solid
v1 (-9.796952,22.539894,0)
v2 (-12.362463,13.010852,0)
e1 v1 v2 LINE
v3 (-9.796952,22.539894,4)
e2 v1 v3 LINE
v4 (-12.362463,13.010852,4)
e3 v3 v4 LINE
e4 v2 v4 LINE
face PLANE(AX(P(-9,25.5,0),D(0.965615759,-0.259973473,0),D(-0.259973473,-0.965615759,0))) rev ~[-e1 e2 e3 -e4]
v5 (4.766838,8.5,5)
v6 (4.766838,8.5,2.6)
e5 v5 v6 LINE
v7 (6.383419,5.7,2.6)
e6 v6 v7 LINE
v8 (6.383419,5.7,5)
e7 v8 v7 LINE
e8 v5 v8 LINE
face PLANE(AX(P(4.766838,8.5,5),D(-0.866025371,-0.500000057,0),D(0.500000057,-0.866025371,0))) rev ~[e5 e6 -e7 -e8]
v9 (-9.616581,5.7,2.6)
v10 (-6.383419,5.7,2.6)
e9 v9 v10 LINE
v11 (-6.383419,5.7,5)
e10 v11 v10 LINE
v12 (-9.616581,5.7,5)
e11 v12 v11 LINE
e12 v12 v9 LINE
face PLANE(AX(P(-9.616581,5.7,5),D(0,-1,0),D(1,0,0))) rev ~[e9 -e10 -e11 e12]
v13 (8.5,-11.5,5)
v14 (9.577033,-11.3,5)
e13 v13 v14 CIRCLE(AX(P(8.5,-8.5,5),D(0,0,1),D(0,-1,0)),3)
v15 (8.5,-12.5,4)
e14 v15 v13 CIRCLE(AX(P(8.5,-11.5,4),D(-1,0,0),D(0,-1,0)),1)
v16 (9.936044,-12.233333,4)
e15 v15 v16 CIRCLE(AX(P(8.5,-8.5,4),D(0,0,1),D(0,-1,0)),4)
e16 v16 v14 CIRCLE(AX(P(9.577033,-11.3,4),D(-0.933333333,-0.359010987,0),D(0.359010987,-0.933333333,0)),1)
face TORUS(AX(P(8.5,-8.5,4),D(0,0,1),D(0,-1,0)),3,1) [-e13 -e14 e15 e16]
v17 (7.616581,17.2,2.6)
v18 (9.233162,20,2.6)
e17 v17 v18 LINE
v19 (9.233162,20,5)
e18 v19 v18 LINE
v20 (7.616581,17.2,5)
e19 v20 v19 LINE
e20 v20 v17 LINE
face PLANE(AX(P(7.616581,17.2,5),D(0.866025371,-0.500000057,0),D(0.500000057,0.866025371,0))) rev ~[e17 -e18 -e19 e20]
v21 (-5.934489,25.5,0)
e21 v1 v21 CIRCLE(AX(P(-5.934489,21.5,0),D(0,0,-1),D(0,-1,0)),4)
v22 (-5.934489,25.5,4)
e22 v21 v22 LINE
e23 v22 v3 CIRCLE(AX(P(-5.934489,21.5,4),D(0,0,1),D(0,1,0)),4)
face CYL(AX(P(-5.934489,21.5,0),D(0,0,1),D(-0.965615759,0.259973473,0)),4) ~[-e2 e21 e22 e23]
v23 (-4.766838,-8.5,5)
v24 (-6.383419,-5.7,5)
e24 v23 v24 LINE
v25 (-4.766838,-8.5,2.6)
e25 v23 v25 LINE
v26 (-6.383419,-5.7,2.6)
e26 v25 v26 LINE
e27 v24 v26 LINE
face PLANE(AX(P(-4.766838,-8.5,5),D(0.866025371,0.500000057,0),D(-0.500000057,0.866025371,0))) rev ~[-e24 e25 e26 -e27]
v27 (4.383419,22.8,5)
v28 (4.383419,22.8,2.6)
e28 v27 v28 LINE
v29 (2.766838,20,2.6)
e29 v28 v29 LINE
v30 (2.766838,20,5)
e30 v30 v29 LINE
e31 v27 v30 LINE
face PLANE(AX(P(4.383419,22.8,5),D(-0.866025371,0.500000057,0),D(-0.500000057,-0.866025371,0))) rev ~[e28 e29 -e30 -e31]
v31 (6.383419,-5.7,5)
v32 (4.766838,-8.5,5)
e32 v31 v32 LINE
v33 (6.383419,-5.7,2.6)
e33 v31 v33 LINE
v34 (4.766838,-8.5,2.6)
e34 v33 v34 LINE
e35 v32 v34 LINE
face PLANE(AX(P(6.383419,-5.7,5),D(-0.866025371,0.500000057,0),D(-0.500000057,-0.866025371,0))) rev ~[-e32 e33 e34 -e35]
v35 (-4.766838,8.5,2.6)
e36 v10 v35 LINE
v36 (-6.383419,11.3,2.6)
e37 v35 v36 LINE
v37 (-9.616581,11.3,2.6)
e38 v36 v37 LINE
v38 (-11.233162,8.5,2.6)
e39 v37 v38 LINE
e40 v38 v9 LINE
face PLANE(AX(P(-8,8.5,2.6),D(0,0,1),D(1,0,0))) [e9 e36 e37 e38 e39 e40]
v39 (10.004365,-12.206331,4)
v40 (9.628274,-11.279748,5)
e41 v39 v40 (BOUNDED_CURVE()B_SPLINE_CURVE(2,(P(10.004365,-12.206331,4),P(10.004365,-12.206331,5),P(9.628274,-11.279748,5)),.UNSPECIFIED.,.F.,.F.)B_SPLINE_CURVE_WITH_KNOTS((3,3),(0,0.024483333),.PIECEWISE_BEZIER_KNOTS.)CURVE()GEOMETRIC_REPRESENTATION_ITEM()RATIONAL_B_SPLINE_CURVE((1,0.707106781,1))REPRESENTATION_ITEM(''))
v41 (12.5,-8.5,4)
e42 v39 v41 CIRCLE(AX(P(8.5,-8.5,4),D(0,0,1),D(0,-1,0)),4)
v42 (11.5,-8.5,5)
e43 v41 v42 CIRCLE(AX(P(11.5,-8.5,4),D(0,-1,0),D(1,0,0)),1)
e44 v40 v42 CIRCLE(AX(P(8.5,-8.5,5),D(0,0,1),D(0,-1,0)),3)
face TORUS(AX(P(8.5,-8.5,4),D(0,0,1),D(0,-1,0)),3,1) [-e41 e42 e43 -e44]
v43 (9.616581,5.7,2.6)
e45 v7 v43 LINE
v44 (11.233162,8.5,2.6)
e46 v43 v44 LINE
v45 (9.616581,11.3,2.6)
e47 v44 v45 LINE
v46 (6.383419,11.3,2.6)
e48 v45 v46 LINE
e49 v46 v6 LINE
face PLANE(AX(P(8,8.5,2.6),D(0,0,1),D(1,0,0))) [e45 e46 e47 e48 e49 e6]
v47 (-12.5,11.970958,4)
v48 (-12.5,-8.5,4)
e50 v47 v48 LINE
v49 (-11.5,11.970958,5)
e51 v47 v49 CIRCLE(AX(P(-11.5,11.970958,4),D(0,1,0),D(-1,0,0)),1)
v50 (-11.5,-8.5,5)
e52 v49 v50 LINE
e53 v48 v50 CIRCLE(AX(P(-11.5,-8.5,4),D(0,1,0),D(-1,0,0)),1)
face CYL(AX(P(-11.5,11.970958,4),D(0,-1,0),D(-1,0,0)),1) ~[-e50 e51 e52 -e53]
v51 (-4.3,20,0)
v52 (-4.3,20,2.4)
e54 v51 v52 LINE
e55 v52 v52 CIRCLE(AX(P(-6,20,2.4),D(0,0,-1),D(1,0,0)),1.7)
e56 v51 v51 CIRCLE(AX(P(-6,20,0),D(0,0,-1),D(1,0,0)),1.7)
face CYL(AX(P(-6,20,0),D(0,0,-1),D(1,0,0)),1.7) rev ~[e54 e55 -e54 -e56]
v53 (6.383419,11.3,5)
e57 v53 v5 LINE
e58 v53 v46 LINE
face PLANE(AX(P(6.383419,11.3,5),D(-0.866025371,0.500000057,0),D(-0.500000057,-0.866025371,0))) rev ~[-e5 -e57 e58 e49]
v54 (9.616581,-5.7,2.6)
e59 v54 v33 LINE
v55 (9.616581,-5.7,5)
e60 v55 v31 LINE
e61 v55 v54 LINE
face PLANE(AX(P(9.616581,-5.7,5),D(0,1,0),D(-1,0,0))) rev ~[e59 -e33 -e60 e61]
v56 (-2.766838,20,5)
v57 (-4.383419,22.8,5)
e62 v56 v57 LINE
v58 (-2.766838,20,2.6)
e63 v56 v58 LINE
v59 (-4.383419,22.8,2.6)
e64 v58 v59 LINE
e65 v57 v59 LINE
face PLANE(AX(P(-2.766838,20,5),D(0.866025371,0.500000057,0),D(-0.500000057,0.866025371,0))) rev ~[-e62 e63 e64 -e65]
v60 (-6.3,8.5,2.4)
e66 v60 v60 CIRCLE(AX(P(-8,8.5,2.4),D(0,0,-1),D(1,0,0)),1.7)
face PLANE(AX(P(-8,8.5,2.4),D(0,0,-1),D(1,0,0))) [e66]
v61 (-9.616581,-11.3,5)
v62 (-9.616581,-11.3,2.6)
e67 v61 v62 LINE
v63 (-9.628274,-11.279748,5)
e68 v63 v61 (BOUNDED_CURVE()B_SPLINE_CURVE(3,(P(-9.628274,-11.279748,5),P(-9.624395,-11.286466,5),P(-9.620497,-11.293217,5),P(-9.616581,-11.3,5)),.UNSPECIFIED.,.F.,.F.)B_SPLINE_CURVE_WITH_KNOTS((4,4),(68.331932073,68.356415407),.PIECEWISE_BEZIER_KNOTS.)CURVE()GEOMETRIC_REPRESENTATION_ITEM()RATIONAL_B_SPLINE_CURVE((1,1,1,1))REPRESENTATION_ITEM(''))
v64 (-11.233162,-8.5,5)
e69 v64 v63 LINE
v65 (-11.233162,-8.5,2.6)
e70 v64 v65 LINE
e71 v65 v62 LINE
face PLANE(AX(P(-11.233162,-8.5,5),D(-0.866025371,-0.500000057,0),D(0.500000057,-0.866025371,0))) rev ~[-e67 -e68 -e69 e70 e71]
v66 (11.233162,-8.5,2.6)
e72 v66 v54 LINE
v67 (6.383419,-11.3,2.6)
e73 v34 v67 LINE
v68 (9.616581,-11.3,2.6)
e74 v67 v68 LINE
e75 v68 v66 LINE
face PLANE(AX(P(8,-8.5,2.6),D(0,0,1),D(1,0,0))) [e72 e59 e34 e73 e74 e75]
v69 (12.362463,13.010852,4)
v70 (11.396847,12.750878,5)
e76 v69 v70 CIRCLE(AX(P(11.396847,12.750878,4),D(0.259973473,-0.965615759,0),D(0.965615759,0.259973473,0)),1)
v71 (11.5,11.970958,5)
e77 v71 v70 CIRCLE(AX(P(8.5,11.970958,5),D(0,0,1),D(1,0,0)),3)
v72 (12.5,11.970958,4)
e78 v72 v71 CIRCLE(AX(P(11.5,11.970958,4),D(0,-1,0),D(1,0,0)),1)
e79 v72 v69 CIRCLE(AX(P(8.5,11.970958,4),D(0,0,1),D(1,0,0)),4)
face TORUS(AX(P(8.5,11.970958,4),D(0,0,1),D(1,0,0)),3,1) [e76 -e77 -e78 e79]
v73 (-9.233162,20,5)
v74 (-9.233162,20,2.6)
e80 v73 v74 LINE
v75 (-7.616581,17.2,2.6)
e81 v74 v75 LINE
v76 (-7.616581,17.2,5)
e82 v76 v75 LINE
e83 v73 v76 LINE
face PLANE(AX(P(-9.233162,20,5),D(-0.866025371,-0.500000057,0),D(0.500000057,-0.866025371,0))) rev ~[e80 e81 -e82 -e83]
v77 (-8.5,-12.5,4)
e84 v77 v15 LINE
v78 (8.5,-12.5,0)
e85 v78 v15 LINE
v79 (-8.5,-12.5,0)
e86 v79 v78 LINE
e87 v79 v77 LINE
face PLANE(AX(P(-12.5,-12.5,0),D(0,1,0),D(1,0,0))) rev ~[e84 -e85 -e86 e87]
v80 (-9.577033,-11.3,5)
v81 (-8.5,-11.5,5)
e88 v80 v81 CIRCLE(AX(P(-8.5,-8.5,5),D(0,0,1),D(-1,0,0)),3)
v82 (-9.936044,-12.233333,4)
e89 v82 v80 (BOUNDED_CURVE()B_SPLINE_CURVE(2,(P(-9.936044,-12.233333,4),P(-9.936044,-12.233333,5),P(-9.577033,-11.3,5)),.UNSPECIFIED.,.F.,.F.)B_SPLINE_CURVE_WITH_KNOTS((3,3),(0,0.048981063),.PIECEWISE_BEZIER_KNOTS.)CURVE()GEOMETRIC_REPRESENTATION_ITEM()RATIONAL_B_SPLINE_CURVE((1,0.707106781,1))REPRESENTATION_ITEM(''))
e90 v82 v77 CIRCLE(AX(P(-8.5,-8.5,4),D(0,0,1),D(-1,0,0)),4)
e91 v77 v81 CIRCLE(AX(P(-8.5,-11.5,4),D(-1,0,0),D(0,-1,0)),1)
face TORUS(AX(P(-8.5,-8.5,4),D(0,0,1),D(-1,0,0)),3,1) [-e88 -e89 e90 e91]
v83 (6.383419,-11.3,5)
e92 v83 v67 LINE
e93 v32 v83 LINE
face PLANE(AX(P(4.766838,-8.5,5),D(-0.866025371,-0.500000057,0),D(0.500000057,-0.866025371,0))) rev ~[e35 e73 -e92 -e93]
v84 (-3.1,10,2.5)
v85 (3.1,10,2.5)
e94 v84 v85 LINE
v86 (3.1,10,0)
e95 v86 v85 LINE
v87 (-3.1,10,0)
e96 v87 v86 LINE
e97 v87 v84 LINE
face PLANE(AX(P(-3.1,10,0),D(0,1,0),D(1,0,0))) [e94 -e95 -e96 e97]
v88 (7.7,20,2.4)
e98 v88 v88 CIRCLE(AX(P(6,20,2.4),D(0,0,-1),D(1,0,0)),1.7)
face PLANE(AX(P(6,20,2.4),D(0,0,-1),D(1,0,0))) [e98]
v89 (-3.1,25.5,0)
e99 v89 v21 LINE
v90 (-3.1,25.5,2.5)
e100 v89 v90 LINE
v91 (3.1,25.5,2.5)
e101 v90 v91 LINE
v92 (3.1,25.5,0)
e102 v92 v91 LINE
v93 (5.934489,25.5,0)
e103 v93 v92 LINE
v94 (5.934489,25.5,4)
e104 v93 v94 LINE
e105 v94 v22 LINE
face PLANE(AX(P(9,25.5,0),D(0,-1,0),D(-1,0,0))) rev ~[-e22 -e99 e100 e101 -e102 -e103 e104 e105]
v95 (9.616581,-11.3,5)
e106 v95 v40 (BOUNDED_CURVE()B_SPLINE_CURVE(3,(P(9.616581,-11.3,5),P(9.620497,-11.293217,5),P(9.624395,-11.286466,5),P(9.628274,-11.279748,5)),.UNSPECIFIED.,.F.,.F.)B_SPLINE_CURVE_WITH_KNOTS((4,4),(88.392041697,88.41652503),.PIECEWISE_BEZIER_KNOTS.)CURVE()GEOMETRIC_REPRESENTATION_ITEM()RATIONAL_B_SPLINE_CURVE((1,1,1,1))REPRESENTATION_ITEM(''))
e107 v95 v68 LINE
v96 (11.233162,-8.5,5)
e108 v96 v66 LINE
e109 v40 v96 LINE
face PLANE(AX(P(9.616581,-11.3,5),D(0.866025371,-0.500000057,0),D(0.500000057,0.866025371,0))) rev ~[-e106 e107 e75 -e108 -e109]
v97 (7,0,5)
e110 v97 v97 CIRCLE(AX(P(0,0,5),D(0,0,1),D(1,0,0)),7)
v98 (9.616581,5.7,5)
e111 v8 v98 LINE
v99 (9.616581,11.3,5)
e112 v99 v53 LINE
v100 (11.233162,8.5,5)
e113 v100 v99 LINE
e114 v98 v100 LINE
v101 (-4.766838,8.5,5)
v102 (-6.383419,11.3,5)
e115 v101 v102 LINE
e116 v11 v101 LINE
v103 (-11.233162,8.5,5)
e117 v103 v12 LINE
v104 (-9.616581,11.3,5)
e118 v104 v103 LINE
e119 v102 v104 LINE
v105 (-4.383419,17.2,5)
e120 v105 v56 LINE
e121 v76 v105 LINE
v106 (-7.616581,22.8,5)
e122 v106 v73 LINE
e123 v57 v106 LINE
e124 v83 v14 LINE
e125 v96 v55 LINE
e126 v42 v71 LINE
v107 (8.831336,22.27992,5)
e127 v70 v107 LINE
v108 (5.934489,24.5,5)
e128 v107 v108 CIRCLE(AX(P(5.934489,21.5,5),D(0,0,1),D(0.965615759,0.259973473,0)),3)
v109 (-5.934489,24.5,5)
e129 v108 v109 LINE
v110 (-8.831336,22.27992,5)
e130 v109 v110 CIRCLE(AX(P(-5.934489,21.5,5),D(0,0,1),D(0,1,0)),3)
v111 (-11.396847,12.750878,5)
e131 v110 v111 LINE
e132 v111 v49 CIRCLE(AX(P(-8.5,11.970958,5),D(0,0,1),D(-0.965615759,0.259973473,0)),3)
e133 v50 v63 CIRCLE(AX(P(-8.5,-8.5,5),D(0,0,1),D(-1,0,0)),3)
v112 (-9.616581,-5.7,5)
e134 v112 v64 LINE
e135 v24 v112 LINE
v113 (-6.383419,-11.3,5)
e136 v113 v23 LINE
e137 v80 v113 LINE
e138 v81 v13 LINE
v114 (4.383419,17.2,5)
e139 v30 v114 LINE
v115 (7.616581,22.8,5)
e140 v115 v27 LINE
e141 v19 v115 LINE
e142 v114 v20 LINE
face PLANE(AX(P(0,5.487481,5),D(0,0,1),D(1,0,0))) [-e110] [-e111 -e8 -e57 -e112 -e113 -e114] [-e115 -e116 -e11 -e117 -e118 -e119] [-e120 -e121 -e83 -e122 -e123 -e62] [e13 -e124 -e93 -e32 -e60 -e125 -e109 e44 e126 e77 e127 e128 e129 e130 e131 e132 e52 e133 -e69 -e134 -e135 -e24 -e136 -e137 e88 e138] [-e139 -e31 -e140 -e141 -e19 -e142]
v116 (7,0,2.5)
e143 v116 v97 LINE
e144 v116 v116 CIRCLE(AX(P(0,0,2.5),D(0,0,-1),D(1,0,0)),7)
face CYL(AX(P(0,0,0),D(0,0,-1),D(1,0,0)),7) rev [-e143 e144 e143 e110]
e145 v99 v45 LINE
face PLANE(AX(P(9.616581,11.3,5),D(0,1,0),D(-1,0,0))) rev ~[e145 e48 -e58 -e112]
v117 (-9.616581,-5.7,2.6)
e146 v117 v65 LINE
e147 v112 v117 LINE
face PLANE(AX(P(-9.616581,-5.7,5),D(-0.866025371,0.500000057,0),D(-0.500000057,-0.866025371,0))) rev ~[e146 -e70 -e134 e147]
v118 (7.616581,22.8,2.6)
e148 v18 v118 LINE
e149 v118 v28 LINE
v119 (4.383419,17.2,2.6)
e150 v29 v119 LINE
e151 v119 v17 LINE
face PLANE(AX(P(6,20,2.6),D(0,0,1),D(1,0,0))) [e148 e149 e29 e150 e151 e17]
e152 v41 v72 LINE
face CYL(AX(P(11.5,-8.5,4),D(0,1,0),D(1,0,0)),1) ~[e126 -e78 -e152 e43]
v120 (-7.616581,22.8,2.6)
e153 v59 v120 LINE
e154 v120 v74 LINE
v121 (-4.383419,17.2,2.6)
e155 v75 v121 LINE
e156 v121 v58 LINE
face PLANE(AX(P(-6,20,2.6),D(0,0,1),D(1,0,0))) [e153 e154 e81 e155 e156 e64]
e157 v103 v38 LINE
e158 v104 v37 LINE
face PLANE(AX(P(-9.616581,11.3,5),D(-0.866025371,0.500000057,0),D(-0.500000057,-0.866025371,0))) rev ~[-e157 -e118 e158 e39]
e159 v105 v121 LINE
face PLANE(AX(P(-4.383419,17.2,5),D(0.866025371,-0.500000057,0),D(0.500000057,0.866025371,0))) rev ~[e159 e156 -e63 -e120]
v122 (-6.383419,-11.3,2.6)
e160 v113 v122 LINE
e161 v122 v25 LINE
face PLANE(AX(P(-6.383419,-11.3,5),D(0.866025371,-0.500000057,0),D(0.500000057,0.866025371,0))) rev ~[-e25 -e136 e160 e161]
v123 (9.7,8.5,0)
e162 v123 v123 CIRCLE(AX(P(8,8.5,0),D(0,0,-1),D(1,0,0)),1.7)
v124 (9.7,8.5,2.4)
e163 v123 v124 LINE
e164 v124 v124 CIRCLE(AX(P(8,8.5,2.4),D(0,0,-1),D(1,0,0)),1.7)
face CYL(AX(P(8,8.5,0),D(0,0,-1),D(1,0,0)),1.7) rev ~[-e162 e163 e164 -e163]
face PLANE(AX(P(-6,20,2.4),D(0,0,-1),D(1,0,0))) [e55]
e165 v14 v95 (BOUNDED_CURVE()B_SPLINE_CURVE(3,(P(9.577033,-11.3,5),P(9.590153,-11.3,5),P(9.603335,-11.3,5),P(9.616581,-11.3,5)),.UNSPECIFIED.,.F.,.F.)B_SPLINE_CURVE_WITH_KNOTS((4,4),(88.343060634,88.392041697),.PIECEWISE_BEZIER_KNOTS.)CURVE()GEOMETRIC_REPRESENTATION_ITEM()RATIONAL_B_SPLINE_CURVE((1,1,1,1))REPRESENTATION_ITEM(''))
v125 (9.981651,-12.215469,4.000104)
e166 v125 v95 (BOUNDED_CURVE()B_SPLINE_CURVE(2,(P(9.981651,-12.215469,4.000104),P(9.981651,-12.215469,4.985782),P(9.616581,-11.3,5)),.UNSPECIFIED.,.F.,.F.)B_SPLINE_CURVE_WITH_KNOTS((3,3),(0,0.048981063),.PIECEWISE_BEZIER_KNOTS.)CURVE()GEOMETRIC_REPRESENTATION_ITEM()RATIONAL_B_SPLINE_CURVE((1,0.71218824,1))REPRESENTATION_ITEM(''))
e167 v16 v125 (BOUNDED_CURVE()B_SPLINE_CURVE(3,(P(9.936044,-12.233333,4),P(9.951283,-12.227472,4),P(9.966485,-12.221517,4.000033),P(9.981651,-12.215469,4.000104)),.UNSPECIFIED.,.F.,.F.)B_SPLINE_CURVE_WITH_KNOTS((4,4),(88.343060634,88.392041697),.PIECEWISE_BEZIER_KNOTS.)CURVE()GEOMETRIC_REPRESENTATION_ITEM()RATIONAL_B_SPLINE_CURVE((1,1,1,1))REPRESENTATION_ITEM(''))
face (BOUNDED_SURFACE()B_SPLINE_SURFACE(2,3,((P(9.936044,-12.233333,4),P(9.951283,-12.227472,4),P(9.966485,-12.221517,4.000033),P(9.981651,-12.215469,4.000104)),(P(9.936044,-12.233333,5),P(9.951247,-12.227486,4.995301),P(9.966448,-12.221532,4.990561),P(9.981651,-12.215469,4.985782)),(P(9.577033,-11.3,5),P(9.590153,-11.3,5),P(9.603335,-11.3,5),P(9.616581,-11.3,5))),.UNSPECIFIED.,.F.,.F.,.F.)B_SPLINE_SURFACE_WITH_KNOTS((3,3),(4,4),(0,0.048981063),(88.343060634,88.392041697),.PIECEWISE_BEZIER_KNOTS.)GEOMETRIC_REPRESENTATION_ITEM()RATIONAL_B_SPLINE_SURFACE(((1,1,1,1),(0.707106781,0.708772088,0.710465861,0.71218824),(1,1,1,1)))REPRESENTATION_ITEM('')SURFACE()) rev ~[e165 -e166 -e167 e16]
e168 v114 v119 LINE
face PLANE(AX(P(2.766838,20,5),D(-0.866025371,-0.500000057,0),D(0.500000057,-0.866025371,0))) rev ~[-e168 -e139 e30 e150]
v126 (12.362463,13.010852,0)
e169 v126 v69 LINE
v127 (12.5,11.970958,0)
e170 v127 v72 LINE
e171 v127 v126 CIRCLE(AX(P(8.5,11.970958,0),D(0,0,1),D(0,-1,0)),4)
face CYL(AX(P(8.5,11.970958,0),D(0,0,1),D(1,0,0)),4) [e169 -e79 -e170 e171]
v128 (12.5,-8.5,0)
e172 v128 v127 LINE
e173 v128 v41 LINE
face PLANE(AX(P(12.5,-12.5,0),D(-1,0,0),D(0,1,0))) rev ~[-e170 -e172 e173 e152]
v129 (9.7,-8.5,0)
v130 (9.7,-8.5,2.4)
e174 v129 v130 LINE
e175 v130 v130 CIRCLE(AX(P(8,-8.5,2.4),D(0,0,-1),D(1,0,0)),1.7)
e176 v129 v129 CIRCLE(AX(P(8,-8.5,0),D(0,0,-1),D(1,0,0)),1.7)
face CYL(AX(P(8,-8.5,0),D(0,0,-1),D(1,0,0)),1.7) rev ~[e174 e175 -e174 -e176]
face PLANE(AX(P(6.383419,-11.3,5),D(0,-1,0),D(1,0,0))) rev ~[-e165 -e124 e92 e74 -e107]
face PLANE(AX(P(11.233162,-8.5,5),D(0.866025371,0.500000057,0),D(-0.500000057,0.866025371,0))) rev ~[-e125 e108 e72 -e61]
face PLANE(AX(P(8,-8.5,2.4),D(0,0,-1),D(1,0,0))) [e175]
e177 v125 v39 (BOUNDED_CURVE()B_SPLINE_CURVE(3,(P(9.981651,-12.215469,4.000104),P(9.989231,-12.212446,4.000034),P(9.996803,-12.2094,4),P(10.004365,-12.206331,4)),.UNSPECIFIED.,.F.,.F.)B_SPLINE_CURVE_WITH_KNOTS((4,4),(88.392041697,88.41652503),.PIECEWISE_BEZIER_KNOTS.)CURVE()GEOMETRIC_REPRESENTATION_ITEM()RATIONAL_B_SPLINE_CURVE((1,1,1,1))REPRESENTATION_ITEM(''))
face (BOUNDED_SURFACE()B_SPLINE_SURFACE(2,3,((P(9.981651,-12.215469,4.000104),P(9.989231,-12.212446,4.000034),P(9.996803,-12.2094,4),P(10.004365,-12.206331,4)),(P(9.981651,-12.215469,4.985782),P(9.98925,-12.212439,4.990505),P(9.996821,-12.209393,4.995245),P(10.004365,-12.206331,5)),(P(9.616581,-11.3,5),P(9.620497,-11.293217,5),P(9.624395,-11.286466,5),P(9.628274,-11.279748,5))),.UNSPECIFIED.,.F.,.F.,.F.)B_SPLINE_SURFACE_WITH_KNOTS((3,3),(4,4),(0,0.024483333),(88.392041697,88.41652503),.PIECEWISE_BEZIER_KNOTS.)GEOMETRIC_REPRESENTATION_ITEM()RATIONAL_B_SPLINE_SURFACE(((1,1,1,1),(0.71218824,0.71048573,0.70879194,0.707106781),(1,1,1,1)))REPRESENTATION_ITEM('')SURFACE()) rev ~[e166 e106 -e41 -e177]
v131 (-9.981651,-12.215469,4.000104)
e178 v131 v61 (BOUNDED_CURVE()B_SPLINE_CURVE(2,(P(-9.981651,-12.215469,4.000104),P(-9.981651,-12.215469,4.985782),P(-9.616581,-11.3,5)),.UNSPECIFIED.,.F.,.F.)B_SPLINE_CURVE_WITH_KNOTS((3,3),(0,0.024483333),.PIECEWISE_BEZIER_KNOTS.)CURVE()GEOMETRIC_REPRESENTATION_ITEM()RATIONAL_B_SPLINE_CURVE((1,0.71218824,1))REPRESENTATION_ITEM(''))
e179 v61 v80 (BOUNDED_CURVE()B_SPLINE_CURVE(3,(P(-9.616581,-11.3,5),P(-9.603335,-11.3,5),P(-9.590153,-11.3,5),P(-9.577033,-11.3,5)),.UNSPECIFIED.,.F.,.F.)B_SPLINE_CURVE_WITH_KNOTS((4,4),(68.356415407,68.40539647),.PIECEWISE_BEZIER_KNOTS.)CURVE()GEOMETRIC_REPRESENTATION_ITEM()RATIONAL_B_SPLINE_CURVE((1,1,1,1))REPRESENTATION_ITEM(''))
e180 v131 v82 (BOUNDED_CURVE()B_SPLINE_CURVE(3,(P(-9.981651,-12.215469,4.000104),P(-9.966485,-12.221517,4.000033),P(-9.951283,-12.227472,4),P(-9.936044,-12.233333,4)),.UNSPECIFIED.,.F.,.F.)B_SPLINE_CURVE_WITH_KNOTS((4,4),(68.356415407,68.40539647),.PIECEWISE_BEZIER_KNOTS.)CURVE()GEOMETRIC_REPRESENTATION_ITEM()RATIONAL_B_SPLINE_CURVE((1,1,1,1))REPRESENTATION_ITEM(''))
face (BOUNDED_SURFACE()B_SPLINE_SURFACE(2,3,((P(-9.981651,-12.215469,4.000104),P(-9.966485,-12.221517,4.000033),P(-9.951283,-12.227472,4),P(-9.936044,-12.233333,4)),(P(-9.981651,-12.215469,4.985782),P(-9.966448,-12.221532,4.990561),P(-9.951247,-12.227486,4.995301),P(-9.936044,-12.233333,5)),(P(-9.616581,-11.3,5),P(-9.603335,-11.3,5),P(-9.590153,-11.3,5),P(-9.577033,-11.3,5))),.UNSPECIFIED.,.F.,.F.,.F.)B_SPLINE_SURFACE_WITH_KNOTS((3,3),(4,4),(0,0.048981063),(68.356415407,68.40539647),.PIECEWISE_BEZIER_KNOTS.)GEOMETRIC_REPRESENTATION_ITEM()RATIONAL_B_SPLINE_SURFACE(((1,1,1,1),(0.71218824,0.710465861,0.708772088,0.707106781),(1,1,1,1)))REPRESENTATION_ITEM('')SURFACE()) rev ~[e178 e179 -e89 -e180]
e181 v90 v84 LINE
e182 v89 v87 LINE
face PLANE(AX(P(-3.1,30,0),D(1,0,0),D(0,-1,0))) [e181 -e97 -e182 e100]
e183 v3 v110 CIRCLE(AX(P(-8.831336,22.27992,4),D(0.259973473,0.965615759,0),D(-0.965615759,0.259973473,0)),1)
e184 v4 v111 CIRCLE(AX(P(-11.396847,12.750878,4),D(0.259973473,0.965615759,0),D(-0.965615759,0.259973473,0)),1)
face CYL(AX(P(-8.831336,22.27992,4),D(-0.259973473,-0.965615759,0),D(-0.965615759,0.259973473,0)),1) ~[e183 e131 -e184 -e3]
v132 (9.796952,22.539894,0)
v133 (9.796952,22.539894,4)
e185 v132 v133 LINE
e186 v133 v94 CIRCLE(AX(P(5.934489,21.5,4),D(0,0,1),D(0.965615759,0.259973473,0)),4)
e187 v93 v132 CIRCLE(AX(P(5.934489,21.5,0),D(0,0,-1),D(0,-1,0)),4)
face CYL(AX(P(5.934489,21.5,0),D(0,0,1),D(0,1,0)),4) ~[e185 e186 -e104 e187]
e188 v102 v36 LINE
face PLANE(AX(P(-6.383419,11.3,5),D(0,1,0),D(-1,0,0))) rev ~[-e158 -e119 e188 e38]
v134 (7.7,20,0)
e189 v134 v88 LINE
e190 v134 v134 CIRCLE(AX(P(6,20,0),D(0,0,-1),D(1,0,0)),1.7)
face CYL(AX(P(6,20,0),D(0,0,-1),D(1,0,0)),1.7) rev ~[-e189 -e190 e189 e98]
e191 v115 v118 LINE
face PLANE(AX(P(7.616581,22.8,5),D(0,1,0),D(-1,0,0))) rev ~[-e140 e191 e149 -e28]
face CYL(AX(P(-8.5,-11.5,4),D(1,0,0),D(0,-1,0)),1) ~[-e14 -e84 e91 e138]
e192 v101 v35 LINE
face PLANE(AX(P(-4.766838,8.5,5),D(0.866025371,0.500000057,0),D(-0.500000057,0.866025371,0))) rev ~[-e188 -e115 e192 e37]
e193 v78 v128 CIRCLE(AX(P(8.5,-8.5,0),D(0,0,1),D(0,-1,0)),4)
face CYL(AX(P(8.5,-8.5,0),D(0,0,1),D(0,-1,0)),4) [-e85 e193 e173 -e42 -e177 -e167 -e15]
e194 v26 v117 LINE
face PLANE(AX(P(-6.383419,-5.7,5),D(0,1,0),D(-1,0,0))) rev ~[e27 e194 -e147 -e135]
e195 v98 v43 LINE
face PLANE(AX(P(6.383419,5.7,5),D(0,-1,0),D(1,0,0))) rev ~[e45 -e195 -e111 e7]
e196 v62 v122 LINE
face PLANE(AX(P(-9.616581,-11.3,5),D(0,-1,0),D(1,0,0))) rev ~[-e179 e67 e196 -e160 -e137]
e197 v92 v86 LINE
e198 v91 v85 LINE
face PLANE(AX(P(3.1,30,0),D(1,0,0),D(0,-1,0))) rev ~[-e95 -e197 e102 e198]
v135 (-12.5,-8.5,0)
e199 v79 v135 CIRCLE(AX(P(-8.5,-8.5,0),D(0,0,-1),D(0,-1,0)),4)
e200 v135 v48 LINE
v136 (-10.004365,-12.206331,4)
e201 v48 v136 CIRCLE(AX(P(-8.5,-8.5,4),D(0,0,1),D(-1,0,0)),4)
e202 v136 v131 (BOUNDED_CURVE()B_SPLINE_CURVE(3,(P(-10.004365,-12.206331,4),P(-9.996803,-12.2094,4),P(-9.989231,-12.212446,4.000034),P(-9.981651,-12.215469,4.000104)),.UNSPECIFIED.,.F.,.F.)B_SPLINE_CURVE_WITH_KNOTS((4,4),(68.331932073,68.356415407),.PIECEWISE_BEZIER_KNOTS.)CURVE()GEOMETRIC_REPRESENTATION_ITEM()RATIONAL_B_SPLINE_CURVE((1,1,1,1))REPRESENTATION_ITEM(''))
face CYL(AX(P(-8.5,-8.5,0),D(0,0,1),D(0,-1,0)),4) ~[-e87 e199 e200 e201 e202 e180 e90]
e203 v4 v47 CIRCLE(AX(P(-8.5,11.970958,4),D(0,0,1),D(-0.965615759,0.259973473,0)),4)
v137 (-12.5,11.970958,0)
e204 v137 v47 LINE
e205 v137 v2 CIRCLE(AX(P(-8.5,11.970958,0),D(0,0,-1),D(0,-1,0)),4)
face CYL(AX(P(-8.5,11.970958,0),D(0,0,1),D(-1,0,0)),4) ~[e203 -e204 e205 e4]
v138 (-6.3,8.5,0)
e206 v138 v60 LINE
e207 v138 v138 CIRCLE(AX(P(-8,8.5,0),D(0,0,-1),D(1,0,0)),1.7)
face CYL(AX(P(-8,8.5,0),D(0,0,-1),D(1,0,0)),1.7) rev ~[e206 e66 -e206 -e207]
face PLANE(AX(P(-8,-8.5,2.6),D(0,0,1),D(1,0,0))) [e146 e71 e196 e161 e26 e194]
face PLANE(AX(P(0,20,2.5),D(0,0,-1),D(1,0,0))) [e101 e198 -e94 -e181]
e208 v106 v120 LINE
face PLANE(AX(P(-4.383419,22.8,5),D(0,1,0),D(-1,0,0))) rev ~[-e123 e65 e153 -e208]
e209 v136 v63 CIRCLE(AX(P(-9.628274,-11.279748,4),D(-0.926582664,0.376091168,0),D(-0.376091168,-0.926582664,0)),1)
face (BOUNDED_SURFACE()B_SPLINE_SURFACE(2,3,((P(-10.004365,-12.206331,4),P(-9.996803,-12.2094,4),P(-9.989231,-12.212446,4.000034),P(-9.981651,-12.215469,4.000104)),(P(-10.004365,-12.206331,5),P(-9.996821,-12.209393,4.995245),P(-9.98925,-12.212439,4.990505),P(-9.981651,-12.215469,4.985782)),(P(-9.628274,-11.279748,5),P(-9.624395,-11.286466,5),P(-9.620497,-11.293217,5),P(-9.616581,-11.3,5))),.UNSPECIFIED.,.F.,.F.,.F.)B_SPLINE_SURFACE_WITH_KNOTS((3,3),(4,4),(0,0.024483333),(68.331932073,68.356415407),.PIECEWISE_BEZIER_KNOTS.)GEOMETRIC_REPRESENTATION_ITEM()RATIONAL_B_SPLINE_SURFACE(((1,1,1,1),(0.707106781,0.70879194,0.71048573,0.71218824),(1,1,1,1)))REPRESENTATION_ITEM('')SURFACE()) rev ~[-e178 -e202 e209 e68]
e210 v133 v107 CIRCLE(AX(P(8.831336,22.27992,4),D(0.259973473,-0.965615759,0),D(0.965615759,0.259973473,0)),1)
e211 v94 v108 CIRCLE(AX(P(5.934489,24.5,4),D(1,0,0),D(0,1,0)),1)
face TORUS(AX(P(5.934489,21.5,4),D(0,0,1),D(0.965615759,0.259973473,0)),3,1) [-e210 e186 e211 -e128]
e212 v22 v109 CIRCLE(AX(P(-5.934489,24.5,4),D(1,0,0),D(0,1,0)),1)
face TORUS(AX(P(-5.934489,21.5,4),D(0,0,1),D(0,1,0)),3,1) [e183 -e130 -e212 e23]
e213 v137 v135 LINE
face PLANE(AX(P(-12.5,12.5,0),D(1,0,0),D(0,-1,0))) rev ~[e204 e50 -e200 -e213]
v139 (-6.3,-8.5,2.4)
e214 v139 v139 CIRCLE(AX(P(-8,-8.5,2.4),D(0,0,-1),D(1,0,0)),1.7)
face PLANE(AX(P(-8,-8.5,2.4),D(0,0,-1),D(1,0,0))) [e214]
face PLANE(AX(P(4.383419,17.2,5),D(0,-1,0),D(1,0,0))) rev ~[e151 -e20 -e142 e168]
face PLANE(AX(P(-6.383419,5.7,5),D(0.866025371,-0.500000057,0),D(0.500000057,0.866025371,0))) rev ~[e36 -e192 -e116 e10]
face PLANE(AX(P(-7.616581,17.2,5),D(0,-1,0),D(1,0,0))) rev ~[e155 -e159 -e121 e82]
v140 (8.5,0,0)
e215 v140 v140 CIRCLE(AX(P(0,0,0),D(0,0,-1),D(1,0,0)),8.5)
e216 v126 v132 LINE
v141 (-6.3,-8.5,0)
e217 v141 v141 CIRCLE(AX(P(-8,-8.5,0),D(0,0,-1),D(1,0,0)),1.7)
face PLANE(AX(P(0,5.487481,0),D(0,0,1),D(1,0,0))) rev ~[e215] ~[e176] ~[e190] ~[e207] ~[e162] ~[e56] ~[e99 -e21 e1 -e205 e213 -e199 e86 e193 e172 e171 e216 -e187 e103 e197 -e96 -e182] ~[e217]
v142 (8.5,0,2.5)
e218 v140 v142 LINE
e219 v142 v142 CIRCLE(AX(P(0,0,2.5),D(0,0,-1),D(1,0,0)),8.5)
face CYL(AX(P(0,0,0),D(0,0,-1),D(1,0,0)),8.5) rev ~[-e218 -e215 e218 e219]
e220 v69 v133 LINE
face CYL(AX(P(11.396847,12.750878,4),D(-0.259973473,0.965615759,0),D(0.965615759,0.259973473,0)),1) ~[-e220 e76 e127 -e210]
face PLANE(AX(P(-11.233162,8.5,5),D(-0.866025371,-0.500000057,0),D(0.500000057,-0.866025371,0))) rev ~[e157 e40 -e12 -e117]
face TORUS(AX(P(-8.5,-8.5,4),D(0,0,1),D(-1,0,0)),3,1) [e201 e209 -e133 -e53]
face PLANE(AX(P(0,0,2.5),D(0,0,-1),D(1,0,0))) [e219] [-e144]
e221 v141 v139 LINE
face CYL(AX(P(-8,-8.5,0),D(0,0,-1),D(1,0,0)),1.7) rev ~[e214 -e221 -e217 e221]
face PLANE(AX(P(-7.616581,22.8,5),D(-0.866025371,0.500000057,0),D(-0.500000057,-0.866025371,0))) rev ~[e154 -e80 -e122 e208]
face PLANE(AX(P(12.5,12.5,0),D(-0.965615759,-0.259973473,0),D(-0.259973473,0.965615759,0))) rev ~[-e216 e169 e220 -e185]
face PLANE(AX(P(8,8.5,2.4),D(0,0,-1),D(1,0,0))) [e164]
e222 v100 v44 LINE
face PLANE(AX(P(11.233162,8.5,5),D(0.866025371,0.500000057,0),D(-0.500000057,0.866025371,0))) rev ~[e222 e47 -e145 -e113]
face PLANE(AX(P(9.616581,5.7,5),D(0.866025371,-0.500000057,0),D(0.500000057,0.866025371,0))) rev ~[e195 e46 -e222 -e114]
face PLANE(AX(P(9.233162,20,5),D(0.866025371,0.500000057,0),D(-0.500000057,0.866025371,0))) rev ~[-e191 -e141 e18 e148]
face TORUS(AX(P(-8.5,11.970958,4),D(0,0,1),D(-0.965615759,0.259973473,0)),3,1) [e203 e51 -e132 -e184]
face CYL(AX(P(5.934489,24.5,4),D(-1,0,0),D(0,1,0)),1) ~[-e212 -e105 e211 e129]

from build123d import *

# Parameters (mm, degrees)
SKETCH_R        = 7
PAD_DEPTH       = 5
SKETCH001_R     = 8.5
SKETCH001_W     = 6.2
SKETCH001_H     = 20
POCKET_DEPTH    = 2.5
FILLET_R        = 4
FILLET001_R     = 4
POCKET001_DEPTH = 2.4
SKETCH003_R     = 1.7
POCKET002_DEPTH = 2.4
FILLET002_R     = 4
FILLET003_R     = 4
FILLET004_R     = 4
FILLET005_R     = 4
FILLET006_R     = 1


with BuildPart() as part:
    # Sketch → Pad (new body)
    with BuildSketch(Plane.XY):
        Polygon((-12.5, -12.5), (12.5, -12.5), (12.5, 12.5), (9, 25.5), (-9, 25.5), (-12.5, 12.5), align=None)
        Circle(SKETCH_R, mode=Mode.SUBTRACT)
    extrude(amount=PAD_DEPTH)

    # Sketch001 → Pocket (cut)
    with BuildSketch(Plane(origin=(0, 0, 0), x_dir=(1, 0, 0), z_dir=(0, 0, -1))):
        Circle(SKETCH001_R)
        with Locations((0, -20)):
            Rectangle(SKETCH001_W, SKETCH001_H)
    extrude(amount=-POCKET_DEPTH, mode=Mode.SUBTRACT)

    # Fillet
    fillet_edges = [part.edges().sort_by_distance(p)[0] for p in [
        (-12.5, -12.5, 2.5),
    ]]
    fillet(fillet_edges, radius=FILLET_R)

    # Fillet001
    fillet001_edges = [part.edges().sort_by_distance(p)[0] for p in [
        (12.5, -12.5, 2.5),
    ]]
    fillet(fillet001_edges, radius=FILLET001_R)

    # Sketch002 → Pocket001 (cut)
    with BuildSketch(Plane.XY.offset(5)):
        Polygon((-9.616581, 11.3), (-11.233162, 8.5), (-9.616581, 5.7), (-6.383419, 5.7), (-4.766838, 8.5), (-6.383419, 11.3), align=None)
        Polygon((6.383419, 11.3), (4.766838, 8.5), (6.383419, 5.7), (9.616581, 5.7), (11.233162, 8.5), (9.616581, 11.3), align=None)
        Polygon((-9.616581, -5.7), (-11.233162, -8.5), (-9.616581, -11.3), (-6.383419, -11.3), (-4.766838, -8.5), (-6.383419, -5.7), align=None)
        Polygon((6.383419, -5.7), (4.766838, -8.5), (6.383419, -11.3), (9.616581, -11.3), (11.233162, -8.5), (9.616581, -5.7), align=None)
        Polygon((-7.616581, 22.8), (-9.233162, 20), (-7.616581, 17.2), (-4.383419, 17.2), (-2.766838, 20), (-4.383419, 22.8), align=None)
        Polygon((4.383419, 22.8), (2.766838, 20), (4.383419, 17.2), (7.616581, 17.2), (9.233162, 20), (7.616581, 22.8), align=None)
    extrude(amount=-POCKET001_DEPTH, mode=Mode.SUBTRACT)

    # Sketch003 → Pocket002 (cut)
    with BuildSketch(Plane(origin=(0, 0, 0), x_dir=(1, 0, 0), z_dir=(0, 0, -1))):
        with Locations((-8, 8.5)):
            Circle(SKETCH003_R)
        with Locations((8, 8.5)):
            Circle(SKETCH003_R)
        with Locations((-8, -8.5)):
            Circle(SKETCH003_R)
        with Locations((8, -8.5)):
            Circle(SKETCH003_R)
        with Locations((-6, -20)):
            Circle(SKETCH003_R)
        with Locations((6, -20)):
            Circle(SKETCH003_R)
    extrude(amount=-POCKET002_DEPTH, mode=Mode.SUBTRACT)

    # Fillet002
    fillet002_edges = [part.edges().sort_by_distance(p)[0] for p in [
        (12.5, 12.5, 2.5),
    ]]
    fillet(fillet002_edges, radius=FILLET002_R)

    # Fillet003
    fillet003_edges = [part.edges().sort_by_distance(p)[0] for p in [
        (-12.5, 12.5, 2.5),
    ]]
    fillet(fillet003_edges, radius=FILLET003_R)

    # Fillet004
    fillet004_edges = [part.edges().sort_by_distance(p)[0] for p in [
        (-9, 25.5, 2.5),
    ]]
    fillet(fillet004_edges, radius=FILLET004_R)

    # Fillet005
    fillet005_edges = [part.edges().sort_by_distance(p)[0] for p in [
        (9, 25.5, 2.5),
    ]]
    fillet(fillet005_edges, radius=FILLET005_R)

    # Fillet006
    fillet006_edges = [part.edges().sort_by_distance(p)[0] for p in [
        (11.079707, 17.775373, 5),
    ]]
    fillet(fillet006_edges, radius=FILLET006_R)


solid = part.part
